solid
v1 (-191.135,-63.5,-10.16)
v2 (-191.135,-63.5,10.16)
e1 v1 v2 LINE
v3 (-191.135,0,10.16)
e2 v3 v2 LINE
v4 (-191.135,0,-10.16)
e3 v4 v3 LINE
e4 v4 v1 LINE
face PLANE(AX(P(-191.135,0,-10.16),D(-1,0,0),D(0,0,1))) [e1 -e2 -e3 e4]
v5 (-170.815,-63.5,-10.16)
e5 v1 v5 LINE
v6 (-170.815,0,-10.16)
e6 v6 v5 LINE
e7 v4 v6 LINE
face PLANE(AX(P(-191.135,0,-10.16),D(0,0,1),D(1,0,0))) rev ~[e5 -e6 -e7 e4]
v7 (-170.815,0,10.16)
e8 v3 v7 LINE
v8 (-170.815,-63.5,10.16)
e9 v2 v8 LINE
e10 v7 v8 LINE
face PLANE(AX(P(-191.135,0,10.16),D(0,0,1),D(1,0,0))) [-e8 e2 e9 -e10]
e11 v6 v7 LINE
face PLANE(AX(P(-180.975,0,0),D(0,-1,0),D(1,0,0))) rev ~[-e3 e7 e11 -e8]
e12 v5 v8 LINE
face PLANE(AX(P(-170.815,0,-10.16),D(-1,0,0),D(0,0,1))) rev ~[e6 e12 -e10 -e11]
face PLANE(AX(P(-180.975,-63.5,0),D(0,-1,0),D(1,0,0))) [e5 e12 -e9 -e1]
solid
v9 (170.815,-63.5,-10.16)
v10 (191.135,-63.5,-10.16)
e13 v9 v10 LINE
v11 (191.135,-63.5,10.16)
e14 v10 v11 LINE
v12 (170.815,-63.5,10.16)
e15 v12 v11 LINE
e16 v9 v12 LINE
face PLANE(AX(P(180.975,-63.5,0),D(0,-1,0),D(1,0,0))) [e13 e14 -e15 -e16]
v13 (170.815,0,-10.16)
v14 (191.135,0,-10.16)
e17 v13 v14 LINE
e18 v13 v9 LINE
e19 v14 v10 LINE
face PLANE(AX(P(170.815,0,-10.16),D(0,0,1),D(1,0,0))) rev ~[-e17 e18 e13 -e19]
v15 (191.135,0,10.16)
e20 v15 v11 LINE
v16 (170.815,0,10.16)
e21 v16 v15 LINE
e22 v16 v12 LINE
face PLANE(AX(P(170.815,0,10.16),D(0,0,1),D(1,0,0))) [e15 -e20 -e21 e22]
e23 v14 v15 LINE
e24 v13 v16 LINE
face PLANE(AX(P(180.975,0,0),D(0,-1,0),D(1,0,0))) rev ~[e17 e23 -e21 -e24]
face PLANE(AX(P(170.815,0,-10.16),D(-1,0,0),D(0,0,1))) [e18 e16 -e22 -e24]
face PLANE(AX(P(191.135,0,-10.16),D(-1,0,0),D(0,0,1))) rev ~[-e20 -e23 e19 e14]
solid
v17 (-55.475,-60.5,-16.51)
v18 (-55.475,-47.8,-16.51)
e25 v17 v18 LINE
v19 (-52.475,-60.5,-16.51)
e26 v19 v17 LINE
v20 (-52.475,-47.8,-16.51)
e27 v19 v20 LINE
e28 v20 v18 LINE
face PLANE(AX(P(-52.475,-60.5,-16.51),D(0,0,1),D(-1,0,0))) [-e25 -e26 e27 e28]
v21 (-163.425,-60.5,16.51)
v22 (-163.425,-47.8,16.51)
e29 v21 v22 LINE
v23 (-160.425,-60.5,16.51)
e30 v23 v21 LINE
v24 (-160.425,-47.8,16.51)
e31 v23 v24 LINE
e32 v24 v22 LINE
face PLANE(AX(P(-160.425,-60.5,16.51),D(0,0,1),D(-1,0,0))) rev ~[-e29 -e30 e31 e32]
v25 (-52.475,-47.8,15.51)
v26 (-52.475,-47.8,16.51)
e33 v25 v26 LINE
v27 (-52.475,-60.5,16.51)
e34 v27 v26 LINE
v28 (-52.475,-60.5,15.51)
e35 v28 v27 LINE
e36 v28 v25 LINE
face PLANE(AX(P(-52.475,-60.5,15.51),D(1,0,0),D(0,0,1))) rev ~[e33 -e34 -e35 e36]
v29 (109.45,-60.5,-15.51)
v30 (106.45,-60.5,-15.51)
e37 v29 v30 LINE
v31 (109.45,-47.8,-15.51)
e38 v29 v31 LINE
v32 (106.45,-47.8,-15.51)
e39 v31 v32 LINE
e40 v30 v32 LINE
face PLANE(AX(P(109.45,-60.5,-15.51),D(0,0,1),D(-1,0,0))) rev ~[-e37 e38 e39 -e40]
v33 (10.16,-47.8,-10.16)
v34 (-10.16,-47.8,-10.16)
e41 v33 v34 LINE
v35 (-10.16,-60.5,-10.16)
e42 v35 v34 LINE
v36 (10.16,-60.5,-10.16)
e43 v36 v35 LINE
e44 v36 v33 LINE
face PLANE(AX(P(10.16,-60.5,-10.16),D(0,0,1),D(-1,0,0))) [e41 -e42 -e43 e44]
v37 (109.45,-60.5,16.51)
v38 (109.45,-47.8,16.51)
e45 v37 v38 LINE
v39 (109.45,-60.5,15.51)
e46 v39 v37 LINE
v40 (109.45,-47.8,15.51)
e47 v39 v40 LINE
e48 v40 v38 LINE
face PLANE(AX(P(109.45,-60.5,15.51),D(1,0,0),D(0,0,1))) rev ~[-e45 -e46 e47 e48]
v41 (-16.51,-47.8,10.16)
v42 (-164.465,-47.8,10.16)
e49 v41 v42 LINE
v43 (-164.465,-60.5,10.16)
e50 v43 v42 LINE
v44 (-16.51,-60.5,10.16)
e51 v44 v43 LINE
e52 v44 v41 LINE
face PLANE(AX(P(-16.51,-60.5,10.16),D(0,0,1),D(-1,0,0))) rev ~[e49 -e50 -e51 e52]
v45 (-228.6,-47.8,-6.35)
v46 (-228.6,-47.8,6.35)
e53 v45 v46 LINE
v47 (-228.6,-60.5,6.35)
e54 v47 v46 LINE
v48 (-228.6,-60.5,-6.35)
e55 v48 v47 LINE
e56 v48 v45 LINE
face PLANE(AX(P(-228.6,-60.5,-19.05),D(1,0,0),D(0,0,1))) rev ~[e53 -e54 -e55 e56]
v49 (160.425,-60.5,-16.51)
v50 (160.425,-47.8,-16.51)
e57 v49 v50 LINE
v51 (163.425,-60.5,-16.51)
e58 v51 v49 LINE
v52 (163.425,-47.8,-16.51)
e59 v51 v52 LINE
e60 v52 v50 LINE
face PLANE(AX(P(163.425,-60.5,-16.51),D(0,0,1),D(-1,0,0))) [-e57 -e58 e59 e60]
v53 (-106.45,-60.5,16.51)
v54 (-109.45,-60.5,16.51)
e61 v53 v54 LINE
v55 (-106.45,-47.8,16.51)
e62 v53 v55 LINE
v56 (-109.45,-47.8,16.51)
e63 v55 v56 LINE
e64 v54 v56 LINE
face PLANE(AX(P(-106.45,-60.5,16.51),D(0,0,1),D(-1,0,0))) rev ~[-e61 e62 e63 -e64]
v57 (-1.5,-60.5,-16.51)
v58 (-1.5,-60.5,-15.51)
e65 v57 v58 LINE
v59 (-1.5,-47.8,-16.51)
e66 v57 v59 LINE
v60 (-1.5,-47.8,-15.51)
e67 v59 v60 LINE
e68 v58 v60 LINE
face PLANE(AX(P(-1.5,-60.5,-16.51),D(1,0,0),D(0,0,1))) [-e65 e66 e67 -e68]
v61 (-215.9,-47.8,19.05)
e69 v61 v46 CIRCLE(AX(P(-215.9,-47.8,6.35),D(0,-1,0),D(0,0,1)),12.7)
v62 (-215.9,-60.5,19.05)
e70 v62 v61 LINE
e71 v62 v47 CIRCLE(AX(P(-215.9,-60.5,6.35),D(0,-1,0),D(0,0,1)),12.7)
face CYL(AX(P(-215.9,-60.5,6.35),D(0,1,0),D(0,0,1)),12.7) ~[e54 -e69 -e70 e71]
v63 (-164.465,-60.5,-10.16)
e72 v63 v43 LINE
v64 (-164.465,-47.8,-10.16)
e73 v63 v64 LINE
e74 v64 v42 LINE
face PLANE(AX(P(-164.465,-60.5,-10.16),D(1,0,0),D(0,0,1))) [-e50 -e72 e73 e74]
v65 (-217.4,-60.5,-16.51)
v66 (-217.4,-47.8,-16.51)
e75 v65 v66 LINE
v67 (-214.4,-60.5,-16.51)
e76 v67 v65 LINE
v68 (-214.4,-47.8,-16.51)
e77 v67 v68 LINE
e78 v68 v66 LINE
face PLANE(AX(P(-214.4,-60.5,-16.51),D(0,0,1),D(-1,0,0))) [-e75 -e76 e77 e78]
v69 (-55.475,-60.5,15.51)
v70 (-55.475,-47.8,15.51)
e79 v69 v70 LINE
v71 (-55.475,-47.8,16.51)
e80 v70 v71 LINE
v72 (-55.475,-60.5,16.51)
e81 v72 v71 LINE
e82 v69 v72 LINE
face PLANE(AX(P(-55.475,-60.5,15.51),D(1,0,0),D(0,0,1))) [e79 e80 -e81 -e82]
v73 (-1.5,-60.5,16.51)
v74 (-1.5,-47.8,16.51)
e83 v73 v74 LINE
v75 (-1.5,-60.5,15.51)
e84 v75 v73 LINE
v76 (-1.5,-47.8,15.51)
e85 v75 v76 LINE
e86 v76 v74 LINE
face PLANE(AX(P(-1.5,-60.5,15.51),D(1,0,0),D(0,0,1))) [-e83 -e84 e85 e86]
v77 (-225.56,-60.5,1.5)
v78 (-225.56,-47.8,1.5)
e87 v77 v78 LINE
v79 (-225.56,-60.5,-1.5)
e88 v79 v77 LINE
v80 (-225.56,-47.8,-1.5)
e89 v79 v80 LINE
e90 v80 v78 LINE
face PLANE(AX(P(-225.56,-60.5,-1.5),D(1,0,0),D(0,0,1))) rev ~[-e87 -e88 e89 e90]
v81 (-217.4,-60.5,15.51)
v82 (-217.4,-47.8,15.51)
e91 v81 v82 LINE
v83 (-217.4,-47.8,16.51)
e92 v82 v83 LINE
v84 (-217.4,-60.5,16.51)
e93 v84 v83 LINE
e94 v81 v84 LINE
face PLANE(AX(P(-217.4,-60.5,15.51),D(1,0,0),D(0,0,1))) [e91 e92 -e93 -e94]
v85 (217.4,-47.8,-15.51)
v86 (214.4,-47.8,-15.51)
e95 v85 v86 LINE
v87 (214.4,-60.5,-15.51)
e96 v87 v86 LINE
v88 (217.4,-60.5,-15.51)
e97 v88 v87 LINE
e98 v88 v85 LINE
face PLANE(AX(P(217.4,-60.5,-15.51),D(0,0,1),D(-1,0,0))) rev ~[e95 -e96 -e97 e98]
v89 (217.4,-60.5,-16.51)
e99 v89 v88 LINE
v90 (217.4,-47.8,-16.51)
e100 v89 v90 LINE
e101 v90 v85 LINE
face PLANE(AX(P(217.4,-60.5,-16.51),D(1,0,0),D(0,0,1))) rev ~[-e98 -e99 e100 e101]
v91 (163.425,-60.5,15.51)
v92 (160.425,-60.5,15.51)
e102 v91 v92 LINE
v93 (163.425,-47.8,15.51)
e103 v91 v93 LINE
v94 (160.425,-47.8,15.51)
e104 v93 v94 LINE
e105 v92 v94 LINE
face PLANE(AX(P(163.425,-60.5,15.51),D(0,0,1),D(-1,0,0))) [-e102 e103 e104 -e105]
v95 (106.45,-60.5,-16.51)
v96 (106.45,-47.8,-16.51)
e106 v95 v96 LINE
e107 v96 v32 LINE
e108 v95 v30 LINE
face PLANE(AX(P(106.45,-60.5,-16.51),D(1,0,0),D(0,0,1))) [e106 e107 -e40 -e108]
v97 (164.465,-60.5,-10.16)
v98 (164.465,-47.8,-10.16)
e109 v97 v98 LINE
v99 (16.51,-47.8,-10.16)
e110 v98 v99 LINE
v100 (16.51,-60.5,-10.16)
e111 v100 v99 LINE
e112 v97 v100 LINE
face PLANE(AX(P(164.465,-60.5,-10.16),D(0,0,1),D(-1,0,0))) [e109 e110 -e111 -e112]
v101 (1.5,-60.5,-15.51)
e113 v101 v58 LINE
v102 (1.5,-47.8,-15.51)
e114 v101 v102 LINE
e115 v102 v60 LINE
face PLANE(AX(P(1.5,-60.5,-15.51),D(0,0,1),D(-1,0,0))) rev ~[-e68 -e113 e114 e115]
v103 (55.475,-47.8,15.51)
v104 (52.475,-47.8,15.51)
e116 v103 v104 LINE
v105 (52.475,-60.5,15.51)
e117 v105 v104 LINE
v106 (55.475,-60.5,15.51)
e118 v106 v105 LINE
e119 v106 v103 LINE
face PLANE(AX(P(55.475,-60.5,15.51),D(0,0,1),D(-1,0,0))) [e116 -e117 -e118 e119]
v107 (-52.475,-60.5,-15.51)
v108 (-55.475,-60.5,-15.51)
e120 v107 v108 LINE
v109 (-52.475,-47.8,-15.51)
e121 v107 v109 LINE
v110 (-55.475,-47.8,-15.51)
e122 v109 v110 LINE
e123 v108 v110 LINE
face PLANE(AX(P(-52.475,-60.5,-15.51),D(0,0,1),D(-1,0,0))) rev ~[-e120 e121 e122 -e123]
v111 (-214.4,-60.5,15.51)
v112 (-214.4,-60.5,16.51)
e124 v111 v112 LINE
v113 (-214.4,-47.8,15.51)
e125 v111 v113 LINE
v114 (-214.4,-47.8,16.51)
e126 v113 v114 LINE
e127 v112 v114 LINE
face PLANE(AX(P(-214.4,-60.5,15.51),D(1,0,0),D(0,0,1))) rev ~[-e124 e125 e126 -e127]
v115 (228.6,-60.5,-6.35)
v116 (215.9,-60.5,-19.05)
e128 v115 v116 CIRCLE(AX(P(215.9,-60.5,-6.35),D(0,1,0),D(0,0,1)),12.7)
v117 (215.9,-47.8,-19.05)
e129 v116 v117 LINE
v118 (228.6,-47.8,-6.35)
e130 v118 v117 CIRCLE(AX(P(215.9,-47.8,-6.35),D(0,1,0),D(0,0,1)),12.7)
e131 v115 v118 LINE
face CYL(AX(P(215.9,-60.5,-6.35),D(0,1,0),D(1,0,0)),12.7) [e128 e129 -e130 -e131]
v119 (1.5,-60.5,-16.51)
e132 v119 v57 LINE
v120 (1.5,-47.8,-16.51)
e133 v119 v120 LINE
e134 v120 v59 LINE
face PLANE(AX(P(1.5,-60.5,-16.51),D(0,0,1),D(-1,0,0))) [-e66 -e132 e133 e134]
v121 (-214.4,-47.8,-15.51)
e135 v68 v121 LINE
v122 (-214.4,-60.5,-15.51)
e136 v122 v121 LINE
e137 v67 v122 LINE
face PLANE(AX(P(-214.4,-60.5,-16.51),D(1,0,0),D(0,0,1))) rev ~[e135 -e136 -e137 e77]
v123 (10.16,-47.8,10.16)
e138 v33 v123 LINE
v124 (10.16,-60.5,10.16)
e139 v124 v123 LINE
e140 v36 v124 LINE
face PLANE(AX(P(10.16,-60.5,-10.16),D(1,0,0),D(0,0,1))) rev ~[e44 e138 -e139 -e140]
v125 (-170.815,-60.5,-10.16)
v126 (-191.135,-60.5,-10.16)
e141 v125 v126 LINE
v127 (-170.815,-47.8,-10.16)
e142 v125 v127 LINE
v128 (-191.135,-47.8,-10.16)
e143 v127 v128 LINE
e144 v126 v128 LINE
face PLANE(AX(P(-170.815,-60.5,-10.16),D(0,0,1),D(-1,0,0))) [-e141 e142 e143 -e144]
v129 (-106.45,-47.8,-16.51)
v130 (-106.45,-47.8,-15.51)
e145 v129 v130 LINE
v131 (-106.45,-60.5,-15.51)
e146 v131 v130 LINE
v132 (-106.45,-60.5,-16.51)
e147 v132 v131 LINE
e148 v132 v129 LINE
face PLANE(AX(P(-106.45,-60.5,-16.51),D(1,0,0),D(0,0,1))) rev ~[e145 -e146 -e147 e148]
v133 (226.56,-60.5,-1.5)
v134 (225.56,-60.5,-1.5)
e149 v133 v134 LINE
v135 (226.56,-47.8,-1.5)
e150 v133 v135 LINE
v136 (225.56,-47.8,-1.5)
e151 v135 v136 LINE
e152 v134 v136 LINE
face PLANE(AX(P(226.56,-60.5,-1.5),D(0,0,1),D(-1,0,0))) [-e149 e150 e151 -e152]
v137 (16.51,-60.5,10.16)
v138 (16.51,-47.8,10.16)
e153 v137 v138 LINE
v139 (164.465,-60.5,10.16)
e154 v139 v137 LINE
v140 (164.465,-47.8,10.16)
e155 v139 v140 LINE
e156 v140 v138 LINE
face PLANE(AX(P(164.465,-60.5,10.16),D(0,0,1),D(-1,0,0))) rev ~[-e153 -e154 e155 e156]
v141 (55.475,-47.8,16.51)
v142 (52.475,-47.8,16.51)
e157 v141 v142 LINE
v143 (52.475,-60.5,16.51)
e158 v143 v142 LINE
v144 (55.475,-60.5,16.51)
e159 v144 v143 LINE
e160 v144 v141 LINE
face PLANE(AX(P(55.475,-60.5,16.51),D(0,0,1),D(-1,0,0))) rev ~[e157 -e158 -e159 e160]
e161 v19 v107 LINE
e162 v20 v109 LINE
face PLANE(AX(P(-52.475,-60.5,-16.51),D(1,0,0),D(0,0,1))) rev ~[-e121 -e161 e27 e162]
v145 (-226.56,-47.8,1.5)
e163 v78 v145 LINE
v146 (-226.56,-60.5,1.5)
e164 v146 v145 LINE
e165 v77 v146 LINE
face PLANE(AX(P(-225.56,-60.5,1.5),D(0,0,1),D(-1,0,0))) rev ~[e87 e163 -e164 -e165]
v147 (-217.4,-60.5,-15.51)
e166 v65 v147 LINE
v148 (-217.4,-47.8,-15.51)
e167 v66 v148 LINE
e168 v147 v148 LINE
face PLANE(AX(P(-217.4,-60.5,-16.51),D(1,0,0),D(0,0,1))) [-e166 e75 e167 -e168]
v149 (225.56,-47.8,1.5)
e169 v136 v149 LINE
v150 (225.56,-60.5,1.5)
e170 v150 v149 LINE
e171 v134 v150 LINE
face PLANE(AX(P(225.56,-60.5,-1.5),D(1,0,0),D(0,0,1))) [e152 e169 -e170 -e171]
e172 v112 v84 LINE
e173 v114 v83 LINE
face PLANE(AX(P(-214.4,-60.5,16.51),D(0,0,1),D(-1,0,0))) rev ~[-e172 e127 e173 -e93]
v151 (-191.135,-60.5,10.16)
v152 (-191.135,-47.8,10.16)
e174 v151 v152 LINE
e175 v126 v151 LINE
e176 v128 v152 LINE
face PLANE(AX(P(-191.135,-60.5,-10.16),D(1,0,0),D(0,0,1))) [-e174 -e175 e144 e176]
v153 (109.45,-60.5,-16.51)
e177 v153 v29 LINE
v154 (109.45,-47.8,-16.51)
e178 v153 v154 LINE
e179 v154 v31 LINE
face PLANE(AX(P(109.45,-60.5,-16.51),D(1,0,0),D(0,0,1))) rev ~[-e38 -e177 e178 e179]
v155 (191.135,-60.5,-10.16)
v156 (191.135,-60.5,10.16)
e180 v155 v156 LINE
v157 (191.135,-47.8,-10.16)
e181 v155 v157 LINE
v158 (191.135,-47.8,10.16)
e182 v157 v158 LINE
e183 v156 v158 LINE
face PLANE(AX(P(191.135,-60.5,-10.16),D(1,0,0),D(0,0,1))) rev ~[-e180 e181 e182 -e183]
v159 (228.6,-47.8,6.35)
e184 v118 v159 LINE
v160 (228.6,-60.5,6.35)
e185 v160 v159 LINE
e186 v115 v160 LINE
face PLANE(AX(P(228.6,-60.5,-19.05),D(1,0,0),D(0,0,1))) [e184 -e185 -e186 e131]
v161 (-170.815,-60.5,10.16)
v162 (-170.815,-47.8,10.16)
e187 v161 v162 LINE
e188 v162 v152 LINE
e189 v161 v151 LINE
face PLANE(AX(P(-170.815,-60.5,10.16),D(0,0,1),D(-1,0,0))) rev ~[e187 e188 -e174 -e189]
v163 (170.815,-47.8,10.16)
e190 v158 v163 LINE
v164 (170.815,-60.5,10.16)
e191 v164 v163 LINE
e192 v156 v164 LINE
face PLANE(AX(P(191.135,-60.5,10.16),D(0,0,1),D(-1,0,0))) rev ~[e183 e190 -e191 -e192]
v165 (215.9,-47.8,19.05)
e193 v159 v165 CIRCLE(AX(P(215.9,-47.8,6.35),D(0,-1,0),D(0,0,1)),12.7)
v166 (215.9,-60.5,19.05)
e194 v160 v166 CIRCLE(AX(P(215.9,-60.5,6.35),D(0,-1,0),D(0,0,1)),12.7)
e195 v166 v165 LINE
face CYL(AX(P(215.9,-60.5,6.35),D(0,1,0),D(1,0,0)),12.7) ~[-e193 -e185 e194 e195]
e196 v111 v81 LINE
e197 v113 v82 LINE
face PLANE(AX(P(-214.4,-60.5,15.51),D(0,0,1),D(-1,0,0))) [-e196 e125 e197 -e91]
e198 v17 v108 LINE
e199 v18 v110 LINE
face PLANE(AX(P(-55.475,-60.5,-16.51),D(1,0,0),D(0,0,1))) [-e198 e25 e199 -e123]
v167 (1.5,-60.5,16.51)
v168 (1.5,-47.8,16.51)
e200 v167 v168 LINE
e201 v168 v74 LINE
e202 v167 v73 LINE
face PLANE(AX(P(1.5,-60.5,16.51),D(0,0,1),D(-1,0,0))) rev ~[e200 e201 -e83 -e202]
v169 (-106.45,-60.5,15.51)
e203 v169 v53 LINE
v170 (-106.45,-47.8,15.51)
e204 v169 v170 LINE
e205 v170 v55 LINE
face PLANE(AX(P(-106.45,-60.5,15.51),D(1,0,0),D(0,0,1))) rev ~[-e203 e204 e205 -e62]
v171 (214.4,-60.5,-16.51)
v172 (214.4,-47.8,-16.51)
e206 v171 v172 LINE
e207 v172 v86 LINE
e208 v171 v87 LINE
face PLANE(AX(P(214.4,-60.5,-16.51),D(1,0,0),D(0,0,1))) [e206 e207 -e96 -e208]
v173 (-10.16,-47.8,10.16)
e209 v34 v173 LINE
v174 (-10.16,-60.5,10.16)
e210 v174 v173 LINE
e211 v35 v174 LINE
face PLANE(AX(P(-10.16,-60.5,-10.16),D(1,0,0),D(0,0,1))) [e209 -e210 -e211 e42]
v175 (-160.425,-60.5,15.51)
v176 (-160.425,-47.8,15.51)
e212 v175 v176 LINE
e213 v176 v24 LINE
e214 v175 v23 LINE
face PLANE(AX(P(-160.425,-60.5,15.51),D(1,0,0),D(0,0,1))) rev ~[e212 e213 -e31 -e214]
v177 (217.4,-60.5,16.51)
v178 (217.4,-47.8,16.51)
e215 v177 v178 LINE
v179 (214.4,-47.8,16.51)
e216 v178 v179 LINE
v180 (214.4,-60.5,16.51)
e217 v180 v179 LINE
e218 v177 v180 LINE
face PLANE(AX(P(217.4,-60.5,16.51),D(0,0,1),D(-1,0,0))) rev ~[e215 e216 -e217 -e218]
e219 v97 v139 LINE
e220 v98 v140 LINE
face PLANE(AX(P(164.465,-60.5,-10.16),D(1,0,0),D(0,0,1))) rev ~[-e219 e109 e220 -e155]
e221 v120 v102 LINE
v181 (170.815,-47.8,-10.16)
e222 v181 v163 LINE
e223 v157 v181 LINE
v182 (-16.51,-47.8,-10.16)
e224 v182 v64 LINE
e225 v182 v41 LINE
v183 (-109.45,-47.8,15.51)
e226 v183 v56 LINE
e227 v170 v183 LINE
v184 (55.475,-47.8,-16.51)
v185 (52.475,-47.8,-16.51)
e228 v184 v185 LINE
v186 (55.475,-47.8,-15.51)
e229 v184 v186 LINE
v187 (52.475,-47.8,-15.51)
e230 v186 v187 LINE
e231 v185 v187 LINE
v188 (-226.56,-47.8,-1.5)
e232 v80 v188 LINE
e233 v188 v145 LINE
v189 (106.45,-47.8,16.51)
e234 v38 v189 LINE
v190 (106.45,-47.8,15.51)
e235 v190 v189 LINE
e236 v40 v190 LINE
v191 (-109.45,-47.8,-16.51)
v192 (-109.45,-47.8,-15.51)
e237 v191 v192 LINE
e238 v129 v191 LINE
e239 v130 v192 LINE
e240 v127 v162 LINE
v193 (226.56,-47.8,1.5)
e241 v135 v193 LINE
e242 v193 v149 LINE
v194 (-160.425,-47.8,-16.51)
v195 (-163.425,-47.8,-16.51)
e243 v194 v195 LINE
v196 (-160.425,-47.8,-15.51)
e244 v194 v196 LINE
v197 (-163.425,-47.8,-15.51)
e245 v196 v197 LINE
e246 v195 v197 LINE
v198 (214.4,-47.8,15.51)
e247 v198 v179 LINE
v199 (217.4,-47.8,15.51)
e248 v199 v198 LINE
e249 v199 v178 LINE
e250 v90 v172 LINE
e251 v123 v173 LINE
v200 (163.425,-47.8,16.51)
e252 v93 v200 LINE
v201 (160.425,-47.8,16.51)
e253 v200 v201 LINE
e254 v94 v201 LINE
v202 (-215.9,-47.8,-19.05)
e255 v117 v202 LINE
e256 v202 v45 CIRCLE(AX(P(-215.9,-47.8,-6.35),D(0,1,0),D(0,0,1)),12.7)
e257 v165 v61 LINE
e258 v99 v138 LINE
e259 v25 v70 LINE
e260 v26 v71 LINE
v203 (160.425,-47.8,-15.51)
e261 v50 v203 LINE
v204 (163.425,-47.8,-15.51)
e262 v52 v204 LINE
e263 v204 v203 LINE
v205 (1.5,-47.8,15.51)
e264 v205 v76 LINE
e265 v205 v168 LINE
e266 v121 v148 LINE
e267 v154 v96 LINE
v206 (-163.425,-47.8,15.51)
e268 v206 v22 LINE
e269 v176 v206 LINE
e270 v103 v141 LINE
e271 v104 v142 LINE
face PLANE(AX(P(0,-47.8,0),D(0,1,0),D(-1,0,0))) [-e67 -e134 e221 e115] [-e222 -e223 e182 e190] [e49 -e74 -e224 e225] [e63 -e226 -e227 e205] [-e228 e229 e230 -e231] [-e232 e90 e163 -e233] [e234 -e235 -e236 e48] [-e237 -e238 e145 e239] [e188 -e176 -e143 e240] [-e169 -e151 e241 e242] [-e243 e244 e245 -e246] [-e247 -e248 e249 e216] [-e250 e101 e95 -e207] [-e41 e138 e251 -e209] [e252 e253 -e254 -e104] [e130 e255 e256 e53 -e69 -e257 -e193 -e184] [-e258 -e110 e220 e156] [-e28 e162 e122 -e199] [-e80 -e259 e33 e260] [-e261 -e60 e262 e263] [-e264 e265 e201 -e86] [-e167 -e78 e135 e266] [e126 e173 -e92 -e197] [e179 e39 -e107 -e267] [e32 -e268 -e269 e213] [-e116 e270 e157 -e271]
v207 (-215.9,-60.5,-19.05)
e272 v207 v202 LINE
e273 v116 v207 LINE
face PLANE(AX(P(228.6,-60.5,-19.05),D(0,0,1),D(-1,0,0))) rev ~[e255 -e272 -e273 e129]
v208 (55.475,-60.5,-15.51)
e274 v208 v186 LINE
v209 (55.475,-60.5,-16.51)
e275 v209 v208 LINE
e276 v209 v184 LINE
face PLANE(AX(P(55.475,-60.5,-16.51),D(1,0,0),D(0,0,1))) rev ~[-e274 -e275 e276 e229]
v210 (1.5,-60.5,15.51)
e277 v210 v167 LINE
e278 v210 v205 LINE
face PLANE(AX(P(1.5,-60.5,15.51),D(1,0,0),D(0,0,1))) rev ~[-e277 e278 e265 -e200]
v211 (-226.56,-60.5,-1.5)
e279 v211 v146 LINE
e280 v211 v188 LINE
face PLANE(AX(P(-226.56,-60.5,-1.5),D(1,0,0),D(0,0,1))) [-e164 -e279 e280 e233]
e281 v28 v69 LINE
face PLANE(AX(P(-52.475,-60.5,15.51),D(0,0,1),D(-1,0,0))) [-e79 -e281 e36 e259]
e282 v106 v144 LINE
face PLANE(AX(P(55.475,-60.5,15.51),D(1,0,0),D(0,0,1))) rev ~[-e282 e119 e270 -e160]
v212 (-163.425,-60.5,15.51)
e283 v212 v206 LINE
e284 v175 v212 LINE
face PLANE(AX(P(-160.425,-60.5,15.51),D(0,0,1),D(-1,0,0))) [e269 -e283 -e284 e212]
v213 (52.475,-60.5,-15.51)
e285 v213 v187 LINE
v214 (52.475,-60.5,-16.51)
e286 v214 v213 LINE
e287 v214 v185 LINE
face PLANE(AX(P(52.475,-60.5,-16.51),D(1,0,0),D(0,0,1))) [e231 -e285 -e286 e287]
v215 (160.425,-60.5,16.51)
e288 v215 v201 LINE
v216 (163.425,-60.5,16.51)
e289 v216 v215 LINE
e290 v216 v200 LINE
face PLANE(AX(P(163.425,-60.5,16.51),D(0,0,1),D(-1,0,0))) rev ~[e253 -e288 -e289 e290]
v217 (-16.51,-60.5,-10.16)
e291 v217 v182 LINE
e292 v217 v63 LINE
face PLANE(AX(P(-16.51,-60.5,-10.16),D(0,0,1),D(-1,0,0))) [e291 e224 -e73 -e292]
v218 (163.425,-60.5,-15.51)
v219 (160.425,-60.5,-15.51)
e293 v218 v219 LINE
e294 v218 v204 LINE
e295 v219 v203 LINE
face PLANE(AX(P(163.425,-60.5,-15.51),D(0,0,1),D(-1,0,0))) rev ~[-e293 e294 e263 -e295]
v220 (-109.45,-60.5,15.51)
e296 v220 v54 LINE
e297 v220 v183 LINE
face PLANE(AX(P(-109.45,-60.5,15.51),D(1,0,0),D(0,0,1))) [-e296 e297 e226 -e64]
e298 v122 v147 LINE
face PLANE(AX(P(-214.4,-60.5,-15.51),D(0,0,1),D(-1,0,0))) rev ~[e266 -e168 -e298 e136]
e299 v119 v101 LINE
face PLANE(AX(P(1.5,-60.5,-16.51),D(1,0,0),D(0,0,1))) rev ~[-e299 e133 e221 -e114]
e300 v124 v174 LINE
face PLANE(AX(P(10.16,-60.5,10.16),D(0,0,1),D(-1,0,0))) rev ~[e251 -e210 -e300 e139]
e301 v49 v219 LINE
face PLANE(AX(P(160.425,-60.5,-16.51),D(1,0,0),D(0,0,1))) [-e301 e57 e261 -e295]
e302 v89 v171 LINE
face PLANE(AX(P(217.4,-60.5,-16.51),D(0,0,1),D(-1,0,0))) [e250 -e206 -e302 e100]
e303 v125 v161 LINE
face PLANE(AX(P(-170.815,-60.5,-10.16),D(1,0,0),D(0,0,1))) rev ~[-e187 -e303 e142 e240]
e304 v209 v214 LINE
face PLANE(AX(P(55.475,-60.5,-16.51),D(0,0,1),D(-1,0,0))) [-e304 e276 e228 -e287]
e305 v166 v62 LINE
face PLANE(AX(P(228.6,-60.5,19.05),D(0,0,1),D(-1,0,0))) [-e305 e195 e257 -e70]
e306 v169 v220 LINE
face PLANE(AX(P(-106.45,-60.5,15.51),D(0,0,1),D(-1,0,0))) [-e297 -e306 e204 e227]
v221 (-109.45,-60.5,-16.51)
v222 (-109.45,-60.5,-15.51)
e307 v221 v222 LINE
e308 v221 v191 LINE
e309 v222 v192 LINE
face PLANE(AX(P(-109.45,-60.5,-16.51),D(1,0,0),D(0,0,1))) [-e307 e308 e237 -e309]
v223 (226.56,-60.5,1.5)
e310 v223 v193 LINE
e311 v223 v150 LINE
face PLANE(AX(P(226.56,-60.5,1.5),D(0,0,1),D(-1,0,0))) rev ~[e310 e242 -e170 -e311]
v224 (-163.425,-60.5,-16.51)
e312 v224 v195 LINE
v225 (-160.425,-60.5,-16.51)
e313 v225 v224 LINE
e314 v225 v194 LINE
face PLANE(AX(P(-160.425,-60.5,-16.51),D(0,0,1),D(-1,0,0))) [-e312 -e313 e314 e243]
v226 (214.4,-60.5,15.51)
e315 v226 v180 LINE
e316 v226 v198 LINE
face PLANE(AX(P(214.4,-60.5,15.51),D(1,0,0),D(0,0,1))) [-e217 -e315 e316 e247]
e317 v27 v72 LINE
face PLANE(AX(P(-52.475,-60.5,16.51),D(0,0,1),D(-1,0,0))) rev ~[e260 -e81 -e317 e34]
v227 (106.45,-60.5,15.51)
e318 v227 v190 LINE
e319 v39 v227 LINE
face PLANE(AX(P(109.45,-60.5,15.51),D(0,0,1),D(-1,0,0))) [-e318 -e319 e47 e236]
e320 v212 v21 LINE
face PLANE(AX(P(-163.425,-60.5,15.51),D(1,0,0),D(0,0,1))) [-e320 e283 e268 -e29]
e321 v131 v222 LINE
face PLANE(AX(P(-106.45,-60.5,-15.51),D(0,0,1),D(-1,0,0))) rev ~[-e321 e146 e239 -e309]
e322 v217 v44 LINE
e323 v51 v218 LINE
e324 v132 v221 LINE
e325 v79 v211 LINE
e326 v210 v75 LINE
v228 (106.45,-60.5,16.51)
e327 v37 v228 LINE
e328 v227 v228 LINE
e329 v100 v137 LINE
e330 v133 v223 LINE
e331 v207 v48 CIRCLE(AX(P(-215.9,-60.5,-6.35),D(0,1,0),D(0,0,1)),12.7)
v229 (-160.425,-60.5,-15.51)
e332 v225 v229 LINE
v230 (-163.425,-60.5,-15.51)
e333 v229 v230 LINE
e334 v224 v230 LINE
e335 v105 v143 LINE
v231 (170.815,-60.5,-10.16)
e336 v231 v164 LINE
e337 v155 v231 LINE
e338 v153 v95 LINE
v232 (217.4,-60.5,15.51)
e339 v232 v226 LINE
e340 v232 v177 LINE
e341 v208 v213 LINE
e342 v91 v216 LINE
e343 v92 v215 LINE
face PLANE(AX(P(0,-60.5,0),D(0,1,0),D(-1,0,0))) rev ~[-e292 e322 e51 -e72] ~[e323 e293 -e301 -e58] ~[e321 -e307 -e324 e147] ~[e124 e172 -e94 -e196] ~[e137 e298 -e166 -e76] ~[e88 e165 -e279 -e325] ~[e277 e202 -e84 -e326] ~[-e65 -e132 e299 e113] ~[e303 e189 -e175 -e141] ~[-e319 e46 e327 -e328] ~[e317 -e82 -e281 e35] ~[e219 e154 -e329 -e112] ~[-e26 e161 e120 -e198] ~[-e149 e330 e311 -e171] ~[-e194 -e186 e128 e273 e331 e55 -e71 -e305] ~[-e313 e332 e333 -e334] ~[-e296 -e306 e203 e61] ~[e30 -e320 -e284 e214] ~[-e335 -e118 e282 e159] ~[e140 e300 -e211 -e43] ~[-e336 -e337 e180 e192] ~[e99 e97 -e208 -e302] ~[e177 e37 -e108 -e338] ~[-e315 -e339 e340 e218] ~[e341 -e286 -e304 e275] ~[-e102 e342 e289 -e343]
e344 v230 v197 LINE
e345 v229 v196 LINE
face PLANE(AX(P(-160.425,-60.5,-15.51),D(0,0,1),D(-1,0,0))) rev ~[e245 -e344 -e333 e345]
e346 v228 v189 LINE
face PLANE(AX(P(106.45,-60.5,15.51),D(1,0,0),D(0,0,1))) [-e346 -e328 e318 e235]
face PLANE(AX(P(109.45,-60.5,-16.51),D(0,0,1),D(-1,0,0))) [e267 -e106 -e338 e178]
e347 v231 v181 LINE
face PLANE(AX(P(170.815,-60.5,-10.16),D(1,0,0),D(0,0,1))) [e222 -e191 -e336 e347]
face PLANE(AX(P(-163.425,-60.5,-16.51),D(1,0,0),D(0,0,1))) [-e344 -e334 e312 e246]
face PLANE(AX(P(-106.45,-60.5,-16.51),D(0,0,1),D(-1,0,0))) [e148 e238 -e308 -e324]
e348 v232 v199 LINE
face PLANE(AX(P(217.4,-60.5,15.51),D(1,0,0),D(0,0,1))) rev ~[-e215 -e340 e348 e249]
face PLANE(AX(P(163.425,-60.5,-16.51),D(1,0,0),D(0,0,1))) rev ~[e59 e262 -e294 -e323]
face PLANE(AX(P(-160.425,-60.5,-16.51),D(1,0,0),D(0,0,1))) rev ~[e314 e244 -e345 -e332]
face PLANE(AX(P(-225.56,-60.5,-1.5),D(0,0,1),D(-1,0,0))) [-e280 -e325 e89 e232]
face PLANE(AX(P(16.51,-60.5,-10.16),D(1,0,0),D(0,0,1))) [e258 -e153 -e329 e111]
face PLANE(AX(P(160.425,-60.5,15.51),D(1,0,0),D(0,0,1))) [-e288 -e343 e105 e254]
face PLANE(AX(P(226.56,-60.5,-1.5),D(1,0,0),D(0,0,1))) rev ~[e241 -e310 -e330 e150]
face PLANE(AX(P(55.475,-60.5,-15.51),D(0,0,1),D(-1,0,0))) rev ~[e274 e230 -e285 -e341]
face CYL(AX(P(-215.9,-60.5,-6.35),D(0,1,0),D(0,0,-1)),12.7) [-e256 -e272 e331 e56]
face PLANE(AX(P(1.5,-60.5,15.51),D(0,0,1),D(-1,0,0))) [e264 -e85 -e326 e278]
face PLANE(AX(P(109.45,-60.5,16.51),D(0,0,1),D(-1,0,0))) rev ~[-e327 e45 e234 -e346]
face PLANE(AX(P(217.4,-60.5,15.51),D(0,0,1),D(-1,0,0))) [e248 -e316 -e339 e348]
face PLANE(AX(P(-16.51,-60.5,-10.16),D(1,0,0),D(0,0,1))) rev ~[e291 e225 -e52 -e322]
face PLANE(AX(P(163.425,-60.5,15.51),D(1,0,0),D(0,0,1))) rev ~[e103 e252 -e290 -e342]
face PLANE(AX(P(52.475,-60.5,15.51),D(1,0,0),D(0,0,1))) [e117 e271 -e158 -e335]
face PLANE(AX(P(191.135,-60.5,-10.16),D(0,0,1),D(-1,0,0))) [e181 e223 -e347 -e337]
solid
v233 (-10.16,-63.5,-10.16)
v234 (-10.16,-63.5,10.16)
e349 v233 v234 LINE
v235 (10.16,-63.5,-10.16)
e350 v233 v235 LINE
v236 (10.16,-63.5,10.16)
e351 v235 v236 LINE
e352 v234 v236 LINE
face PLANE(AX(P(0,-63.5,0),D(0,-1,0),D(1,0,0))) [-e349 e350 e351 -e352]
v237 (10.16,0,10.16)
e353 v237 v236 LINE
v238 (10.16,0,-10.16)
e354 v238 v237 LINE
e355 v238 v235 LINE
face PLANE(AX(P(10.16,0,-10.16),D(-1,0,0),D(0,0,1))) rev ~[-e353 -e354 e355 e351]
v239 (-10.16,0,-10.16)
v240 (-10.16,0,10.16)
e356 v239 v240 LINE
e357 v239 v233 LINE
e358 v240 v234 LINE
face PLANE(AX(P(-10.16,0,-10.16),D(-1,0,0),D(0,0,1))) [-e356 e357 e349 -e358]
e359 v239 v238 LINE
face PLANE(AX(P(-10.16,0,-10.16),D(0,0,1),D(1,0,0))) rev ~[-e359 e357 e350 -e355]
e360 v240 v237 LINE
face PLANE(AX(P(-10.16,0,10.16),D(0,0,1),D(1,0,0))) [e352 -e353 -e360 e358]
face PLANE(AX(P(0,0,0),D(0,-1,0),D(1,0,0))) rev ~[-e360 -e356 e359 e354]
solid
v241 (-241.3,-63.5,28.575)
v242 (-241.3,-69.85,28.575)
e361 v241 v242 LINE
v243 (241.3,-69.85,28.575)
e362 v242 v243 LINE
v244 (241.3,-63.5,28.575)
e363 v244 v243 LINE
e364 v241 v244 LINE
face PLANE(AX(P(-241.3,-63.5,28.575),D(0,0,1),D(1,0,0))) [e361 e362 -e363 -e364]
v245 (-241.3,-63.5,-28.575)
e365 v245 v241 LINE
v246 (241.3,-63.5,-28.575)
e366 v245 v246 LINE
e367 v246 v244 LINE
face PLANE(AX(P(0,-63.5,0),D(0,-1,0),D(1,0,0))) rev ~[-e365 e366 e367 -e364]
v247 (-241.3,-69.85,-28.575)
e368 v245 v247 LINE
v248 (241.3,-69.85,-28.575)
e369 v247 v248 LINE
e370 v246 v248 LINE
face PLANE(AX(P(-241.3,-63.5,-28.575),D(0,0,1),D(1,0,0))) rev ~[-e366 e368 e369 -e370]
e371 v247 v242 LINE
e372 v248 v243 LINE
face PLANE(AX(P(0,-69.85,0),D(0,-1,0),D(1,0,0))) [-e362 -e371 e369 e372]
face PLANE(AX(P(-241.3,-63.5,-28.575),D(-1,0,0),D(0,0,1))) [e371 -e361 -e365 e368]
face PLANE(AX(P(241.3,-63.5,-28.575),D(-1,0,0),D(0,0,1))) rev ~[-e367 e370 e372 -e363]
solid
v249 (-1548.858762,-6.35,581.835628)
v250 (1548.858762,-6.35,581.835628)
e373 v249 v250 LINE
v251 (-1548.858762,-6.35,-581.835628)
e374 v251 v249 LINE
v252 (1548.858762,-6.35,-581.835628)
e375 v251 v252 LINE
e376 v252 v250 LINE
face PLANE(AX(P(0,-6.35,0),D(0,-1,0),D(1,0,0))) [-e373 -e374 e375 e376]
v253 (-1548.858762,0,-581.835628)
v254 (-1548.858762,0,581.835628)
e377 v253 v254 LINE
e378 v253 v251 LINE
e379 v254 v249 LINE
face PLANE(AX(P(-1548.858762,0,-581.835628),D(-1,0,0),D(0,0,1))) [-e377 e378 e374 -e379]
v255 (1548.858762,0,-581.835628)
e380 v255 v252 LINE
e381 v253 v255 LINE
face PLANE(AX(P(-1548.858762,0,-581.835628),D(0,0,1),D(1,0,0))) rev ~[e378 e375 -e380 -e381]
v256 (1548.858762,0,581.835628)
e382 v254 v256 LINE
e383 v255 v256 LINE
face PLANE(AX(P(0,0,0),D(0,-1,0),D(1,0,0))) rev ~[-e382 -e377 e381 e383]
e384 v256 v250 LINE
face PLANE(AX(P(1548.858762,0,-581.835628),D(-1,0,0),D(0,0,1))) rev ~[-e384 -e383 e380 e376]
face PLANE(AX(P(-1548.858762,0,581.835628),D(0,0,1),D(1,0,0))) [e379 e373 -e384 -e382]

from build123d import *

# Parameters (mm, degrees)
F0_W     = 20.32
F0_H     = 20.32
F1_DEPTH = 63.5
F2_W     = 482.6
F2_H     = 57.15
F3_DEPTH = 6.35
F5_W     = 457.2
F5_H     = 38.1
F5_W_2   = 3
F5_H_2   = 1
F5_W_3   = 1
F5_H_3   = 3
F5_W_4   = 20.32
F5_H_4   = 20.32
F5_W_5   = 147.955
F6_DEPTH = 12.7
F7_R     = 12.7
F8_W     = 3097.7175235748
F8_H     = 1163.6712551117
F9_DEPTH = 6.35


with BuildPart() as f1:
    # F0 (on Front) → F1 (new body)
    with BuildSketch(Plane.XZ):
        Rectangle(F0_W, F0_H)
    extrude(amount=F1_DEPTH)


with BuildPart() as f1b:
    # F0 (on Front) → F1, piece 2 (new body)
    with BuildSketch(Plane.XZ):
        with Locations((180.975, 0)):
            Rectangle(F0_W, F0_H)
    extrude(amount=F1_DEPTH)


with BuildPart() as f1c:
    # F0 (on Front) → F1, piece 3 (new body)
    with BuildSketch(Plane.XZ):
        with Locations((-180.975, 0)):
            Rectangle(F0_W, F0_H)
    extrude(amount=F1_DEPTH)


with BuildPart() as f3:
    # F2 (on face) → F3 (new body)
    with BuildSketch(Plane.XZ.offset(63.5)):
        Rectangle(F2_W, F2_H)
    extrude(amount=F3_DEPTH)


with BuildPart() as f6:
    # F5 (on offset) → F6 (new body)
    with BuildSketch(Plane(origin=(0, -60.5, 0), x_dir=(-1, 0, 0), z_dir=(0, 1, 0))):
        Rectangle(F5_W, F5_H)
        with Locations((-215.9, -16.01)):
            Rectangle(F5_W_2, F5_H_2, mode=Mode.SUBTRACT)
        with Locations((-161.925, -16.01)):
            Rectangle(F5_W_2, F5_H_2, mode=Mode.SUBTRACT)
        with Locations((-107.95, -16.01)):
            Rectangle(F5_W_2, F5_H_2, mode=Mode.SUBTRACT)
        with Locations((-53.975, -16.01)):
            Rectangle(F5_W_2, F5_H_2, mode=Mode.SUBTRACT)
        with Locations((0, -16.01)):
            Rectangle(F5_W_2, F5_H_2, mode=Mode.SUBTRACT)
        with Locations((53.975, -16.01)):
            Rectangle(F5_W_2, F5_H_2, mode=Mode.SUBTRACT)
        with Locations((107.95, -16.01)):
            Rectangle(F5_W_2, F5_H_2, mode=Mode.SUBTRACT)
        with Locations((161.925, -16.01)):
            Rectangle(F5_W_2, F5_H_2, mode=Mode.SUBTRACT)
        with Locations((215.9, -16.01)):
            Rectangle(F5_W_2, F5_H_2, mode=Mode.SUBTRACT)
        with Locations((-226.06, 0)):
            Rectangle(F5_W_3, F5_H_3, mode=Mode.SUBTRACT)
        with Locations((-180.975, 0)):
            Rectangle(F5_W_4, F5_H_4, mode=Mode.SUBTRACT)
        with Locations((-90.4875, 0)):
            Rectangle(F5_W_5, F5_H_4, mode=Mode.SUBTRACT)
        with Locations((-215.9, 16.01)):
            Rectangle(F5_W_2, F5_H_2, mode=Mode.SUBTRACT)
        with Locations((-161.925, 16.01)):
            Rectangle(F5_W_2, F5_H_2, mode=Mode.SUBTRACT)
        with Locations((-107.95, 16.01)):
            Rectangle(F5_W_2, F5_H_2, mode=Mode.SUBTRACT)
        with Locations((-53.975, 16.01)):
            Rectangle(F5_W_2, F5_H_2, mode=Mode.SUBTRACT)
        Rectangle(F5_W_4, F5_H_4, mode=Mode.SUBTRACT)
        with Locations((90.4875, 0)):
            Rectangle(F5_W_5, F5_H_4, mode=Mode.SUBTRACT)
        with Locations((180.975, 0)):
            Rectangle(F5_W_4, F5_H_4, mode=Mode.SUBTRACT)
        with Locations((226.06, 0)):
            Rectangle(F5_W_3, F5_H_3, mode=Mode.SUBTRACT)
        with Locations((0, 16.01)):
            Rectangle(F5_W_2, F5_H_2, mode=Mode.SUBTRACT)
        with Locations((53.975, 16.01)):
            Rectangle(F5_W_2, F5_H_2, mode=Mode.SUBTRACT)
        with Locations((107.95, 16.01)):
            Rectangle(F5_W_2, F5_H_2, mode=Mode.SUBTRACT)
        with Locations((161.925, 16.01)):
            Rectangle(F5_W_2, F5_H_2, mode=Mode.SUBTRACT)
        with Locations((215.9, 16.01)):
            Rectangle(F5_W_2, F5_H_2, mode=Mode.SUBTRACT)
    extrude(amount=F6_DEPTH)

    # F7
    f7_edges = [f6.edges().sort_by_distance(p)[0] for p in [
        (228.6, -54.15, 19.05),
        (228.6, -54.15, -19.05),
        (-228.6, -54.15, 19.05),
        (-228.6, -54.15, -19.05),
    ]]
    fillet(f7_edges, radius=F7_R)


with BuildPart() as f9:
    # F8 (on Front) → F9 (new body)
    with BuildSketch(Plane.XZ):
        Rectangle(F8_W, F8_H)
    extrude(amount=F9_DEPTH)


solid = Compound([f1.part, f1b.part, f1c.part, f3.part, f6.part, f9.part])
